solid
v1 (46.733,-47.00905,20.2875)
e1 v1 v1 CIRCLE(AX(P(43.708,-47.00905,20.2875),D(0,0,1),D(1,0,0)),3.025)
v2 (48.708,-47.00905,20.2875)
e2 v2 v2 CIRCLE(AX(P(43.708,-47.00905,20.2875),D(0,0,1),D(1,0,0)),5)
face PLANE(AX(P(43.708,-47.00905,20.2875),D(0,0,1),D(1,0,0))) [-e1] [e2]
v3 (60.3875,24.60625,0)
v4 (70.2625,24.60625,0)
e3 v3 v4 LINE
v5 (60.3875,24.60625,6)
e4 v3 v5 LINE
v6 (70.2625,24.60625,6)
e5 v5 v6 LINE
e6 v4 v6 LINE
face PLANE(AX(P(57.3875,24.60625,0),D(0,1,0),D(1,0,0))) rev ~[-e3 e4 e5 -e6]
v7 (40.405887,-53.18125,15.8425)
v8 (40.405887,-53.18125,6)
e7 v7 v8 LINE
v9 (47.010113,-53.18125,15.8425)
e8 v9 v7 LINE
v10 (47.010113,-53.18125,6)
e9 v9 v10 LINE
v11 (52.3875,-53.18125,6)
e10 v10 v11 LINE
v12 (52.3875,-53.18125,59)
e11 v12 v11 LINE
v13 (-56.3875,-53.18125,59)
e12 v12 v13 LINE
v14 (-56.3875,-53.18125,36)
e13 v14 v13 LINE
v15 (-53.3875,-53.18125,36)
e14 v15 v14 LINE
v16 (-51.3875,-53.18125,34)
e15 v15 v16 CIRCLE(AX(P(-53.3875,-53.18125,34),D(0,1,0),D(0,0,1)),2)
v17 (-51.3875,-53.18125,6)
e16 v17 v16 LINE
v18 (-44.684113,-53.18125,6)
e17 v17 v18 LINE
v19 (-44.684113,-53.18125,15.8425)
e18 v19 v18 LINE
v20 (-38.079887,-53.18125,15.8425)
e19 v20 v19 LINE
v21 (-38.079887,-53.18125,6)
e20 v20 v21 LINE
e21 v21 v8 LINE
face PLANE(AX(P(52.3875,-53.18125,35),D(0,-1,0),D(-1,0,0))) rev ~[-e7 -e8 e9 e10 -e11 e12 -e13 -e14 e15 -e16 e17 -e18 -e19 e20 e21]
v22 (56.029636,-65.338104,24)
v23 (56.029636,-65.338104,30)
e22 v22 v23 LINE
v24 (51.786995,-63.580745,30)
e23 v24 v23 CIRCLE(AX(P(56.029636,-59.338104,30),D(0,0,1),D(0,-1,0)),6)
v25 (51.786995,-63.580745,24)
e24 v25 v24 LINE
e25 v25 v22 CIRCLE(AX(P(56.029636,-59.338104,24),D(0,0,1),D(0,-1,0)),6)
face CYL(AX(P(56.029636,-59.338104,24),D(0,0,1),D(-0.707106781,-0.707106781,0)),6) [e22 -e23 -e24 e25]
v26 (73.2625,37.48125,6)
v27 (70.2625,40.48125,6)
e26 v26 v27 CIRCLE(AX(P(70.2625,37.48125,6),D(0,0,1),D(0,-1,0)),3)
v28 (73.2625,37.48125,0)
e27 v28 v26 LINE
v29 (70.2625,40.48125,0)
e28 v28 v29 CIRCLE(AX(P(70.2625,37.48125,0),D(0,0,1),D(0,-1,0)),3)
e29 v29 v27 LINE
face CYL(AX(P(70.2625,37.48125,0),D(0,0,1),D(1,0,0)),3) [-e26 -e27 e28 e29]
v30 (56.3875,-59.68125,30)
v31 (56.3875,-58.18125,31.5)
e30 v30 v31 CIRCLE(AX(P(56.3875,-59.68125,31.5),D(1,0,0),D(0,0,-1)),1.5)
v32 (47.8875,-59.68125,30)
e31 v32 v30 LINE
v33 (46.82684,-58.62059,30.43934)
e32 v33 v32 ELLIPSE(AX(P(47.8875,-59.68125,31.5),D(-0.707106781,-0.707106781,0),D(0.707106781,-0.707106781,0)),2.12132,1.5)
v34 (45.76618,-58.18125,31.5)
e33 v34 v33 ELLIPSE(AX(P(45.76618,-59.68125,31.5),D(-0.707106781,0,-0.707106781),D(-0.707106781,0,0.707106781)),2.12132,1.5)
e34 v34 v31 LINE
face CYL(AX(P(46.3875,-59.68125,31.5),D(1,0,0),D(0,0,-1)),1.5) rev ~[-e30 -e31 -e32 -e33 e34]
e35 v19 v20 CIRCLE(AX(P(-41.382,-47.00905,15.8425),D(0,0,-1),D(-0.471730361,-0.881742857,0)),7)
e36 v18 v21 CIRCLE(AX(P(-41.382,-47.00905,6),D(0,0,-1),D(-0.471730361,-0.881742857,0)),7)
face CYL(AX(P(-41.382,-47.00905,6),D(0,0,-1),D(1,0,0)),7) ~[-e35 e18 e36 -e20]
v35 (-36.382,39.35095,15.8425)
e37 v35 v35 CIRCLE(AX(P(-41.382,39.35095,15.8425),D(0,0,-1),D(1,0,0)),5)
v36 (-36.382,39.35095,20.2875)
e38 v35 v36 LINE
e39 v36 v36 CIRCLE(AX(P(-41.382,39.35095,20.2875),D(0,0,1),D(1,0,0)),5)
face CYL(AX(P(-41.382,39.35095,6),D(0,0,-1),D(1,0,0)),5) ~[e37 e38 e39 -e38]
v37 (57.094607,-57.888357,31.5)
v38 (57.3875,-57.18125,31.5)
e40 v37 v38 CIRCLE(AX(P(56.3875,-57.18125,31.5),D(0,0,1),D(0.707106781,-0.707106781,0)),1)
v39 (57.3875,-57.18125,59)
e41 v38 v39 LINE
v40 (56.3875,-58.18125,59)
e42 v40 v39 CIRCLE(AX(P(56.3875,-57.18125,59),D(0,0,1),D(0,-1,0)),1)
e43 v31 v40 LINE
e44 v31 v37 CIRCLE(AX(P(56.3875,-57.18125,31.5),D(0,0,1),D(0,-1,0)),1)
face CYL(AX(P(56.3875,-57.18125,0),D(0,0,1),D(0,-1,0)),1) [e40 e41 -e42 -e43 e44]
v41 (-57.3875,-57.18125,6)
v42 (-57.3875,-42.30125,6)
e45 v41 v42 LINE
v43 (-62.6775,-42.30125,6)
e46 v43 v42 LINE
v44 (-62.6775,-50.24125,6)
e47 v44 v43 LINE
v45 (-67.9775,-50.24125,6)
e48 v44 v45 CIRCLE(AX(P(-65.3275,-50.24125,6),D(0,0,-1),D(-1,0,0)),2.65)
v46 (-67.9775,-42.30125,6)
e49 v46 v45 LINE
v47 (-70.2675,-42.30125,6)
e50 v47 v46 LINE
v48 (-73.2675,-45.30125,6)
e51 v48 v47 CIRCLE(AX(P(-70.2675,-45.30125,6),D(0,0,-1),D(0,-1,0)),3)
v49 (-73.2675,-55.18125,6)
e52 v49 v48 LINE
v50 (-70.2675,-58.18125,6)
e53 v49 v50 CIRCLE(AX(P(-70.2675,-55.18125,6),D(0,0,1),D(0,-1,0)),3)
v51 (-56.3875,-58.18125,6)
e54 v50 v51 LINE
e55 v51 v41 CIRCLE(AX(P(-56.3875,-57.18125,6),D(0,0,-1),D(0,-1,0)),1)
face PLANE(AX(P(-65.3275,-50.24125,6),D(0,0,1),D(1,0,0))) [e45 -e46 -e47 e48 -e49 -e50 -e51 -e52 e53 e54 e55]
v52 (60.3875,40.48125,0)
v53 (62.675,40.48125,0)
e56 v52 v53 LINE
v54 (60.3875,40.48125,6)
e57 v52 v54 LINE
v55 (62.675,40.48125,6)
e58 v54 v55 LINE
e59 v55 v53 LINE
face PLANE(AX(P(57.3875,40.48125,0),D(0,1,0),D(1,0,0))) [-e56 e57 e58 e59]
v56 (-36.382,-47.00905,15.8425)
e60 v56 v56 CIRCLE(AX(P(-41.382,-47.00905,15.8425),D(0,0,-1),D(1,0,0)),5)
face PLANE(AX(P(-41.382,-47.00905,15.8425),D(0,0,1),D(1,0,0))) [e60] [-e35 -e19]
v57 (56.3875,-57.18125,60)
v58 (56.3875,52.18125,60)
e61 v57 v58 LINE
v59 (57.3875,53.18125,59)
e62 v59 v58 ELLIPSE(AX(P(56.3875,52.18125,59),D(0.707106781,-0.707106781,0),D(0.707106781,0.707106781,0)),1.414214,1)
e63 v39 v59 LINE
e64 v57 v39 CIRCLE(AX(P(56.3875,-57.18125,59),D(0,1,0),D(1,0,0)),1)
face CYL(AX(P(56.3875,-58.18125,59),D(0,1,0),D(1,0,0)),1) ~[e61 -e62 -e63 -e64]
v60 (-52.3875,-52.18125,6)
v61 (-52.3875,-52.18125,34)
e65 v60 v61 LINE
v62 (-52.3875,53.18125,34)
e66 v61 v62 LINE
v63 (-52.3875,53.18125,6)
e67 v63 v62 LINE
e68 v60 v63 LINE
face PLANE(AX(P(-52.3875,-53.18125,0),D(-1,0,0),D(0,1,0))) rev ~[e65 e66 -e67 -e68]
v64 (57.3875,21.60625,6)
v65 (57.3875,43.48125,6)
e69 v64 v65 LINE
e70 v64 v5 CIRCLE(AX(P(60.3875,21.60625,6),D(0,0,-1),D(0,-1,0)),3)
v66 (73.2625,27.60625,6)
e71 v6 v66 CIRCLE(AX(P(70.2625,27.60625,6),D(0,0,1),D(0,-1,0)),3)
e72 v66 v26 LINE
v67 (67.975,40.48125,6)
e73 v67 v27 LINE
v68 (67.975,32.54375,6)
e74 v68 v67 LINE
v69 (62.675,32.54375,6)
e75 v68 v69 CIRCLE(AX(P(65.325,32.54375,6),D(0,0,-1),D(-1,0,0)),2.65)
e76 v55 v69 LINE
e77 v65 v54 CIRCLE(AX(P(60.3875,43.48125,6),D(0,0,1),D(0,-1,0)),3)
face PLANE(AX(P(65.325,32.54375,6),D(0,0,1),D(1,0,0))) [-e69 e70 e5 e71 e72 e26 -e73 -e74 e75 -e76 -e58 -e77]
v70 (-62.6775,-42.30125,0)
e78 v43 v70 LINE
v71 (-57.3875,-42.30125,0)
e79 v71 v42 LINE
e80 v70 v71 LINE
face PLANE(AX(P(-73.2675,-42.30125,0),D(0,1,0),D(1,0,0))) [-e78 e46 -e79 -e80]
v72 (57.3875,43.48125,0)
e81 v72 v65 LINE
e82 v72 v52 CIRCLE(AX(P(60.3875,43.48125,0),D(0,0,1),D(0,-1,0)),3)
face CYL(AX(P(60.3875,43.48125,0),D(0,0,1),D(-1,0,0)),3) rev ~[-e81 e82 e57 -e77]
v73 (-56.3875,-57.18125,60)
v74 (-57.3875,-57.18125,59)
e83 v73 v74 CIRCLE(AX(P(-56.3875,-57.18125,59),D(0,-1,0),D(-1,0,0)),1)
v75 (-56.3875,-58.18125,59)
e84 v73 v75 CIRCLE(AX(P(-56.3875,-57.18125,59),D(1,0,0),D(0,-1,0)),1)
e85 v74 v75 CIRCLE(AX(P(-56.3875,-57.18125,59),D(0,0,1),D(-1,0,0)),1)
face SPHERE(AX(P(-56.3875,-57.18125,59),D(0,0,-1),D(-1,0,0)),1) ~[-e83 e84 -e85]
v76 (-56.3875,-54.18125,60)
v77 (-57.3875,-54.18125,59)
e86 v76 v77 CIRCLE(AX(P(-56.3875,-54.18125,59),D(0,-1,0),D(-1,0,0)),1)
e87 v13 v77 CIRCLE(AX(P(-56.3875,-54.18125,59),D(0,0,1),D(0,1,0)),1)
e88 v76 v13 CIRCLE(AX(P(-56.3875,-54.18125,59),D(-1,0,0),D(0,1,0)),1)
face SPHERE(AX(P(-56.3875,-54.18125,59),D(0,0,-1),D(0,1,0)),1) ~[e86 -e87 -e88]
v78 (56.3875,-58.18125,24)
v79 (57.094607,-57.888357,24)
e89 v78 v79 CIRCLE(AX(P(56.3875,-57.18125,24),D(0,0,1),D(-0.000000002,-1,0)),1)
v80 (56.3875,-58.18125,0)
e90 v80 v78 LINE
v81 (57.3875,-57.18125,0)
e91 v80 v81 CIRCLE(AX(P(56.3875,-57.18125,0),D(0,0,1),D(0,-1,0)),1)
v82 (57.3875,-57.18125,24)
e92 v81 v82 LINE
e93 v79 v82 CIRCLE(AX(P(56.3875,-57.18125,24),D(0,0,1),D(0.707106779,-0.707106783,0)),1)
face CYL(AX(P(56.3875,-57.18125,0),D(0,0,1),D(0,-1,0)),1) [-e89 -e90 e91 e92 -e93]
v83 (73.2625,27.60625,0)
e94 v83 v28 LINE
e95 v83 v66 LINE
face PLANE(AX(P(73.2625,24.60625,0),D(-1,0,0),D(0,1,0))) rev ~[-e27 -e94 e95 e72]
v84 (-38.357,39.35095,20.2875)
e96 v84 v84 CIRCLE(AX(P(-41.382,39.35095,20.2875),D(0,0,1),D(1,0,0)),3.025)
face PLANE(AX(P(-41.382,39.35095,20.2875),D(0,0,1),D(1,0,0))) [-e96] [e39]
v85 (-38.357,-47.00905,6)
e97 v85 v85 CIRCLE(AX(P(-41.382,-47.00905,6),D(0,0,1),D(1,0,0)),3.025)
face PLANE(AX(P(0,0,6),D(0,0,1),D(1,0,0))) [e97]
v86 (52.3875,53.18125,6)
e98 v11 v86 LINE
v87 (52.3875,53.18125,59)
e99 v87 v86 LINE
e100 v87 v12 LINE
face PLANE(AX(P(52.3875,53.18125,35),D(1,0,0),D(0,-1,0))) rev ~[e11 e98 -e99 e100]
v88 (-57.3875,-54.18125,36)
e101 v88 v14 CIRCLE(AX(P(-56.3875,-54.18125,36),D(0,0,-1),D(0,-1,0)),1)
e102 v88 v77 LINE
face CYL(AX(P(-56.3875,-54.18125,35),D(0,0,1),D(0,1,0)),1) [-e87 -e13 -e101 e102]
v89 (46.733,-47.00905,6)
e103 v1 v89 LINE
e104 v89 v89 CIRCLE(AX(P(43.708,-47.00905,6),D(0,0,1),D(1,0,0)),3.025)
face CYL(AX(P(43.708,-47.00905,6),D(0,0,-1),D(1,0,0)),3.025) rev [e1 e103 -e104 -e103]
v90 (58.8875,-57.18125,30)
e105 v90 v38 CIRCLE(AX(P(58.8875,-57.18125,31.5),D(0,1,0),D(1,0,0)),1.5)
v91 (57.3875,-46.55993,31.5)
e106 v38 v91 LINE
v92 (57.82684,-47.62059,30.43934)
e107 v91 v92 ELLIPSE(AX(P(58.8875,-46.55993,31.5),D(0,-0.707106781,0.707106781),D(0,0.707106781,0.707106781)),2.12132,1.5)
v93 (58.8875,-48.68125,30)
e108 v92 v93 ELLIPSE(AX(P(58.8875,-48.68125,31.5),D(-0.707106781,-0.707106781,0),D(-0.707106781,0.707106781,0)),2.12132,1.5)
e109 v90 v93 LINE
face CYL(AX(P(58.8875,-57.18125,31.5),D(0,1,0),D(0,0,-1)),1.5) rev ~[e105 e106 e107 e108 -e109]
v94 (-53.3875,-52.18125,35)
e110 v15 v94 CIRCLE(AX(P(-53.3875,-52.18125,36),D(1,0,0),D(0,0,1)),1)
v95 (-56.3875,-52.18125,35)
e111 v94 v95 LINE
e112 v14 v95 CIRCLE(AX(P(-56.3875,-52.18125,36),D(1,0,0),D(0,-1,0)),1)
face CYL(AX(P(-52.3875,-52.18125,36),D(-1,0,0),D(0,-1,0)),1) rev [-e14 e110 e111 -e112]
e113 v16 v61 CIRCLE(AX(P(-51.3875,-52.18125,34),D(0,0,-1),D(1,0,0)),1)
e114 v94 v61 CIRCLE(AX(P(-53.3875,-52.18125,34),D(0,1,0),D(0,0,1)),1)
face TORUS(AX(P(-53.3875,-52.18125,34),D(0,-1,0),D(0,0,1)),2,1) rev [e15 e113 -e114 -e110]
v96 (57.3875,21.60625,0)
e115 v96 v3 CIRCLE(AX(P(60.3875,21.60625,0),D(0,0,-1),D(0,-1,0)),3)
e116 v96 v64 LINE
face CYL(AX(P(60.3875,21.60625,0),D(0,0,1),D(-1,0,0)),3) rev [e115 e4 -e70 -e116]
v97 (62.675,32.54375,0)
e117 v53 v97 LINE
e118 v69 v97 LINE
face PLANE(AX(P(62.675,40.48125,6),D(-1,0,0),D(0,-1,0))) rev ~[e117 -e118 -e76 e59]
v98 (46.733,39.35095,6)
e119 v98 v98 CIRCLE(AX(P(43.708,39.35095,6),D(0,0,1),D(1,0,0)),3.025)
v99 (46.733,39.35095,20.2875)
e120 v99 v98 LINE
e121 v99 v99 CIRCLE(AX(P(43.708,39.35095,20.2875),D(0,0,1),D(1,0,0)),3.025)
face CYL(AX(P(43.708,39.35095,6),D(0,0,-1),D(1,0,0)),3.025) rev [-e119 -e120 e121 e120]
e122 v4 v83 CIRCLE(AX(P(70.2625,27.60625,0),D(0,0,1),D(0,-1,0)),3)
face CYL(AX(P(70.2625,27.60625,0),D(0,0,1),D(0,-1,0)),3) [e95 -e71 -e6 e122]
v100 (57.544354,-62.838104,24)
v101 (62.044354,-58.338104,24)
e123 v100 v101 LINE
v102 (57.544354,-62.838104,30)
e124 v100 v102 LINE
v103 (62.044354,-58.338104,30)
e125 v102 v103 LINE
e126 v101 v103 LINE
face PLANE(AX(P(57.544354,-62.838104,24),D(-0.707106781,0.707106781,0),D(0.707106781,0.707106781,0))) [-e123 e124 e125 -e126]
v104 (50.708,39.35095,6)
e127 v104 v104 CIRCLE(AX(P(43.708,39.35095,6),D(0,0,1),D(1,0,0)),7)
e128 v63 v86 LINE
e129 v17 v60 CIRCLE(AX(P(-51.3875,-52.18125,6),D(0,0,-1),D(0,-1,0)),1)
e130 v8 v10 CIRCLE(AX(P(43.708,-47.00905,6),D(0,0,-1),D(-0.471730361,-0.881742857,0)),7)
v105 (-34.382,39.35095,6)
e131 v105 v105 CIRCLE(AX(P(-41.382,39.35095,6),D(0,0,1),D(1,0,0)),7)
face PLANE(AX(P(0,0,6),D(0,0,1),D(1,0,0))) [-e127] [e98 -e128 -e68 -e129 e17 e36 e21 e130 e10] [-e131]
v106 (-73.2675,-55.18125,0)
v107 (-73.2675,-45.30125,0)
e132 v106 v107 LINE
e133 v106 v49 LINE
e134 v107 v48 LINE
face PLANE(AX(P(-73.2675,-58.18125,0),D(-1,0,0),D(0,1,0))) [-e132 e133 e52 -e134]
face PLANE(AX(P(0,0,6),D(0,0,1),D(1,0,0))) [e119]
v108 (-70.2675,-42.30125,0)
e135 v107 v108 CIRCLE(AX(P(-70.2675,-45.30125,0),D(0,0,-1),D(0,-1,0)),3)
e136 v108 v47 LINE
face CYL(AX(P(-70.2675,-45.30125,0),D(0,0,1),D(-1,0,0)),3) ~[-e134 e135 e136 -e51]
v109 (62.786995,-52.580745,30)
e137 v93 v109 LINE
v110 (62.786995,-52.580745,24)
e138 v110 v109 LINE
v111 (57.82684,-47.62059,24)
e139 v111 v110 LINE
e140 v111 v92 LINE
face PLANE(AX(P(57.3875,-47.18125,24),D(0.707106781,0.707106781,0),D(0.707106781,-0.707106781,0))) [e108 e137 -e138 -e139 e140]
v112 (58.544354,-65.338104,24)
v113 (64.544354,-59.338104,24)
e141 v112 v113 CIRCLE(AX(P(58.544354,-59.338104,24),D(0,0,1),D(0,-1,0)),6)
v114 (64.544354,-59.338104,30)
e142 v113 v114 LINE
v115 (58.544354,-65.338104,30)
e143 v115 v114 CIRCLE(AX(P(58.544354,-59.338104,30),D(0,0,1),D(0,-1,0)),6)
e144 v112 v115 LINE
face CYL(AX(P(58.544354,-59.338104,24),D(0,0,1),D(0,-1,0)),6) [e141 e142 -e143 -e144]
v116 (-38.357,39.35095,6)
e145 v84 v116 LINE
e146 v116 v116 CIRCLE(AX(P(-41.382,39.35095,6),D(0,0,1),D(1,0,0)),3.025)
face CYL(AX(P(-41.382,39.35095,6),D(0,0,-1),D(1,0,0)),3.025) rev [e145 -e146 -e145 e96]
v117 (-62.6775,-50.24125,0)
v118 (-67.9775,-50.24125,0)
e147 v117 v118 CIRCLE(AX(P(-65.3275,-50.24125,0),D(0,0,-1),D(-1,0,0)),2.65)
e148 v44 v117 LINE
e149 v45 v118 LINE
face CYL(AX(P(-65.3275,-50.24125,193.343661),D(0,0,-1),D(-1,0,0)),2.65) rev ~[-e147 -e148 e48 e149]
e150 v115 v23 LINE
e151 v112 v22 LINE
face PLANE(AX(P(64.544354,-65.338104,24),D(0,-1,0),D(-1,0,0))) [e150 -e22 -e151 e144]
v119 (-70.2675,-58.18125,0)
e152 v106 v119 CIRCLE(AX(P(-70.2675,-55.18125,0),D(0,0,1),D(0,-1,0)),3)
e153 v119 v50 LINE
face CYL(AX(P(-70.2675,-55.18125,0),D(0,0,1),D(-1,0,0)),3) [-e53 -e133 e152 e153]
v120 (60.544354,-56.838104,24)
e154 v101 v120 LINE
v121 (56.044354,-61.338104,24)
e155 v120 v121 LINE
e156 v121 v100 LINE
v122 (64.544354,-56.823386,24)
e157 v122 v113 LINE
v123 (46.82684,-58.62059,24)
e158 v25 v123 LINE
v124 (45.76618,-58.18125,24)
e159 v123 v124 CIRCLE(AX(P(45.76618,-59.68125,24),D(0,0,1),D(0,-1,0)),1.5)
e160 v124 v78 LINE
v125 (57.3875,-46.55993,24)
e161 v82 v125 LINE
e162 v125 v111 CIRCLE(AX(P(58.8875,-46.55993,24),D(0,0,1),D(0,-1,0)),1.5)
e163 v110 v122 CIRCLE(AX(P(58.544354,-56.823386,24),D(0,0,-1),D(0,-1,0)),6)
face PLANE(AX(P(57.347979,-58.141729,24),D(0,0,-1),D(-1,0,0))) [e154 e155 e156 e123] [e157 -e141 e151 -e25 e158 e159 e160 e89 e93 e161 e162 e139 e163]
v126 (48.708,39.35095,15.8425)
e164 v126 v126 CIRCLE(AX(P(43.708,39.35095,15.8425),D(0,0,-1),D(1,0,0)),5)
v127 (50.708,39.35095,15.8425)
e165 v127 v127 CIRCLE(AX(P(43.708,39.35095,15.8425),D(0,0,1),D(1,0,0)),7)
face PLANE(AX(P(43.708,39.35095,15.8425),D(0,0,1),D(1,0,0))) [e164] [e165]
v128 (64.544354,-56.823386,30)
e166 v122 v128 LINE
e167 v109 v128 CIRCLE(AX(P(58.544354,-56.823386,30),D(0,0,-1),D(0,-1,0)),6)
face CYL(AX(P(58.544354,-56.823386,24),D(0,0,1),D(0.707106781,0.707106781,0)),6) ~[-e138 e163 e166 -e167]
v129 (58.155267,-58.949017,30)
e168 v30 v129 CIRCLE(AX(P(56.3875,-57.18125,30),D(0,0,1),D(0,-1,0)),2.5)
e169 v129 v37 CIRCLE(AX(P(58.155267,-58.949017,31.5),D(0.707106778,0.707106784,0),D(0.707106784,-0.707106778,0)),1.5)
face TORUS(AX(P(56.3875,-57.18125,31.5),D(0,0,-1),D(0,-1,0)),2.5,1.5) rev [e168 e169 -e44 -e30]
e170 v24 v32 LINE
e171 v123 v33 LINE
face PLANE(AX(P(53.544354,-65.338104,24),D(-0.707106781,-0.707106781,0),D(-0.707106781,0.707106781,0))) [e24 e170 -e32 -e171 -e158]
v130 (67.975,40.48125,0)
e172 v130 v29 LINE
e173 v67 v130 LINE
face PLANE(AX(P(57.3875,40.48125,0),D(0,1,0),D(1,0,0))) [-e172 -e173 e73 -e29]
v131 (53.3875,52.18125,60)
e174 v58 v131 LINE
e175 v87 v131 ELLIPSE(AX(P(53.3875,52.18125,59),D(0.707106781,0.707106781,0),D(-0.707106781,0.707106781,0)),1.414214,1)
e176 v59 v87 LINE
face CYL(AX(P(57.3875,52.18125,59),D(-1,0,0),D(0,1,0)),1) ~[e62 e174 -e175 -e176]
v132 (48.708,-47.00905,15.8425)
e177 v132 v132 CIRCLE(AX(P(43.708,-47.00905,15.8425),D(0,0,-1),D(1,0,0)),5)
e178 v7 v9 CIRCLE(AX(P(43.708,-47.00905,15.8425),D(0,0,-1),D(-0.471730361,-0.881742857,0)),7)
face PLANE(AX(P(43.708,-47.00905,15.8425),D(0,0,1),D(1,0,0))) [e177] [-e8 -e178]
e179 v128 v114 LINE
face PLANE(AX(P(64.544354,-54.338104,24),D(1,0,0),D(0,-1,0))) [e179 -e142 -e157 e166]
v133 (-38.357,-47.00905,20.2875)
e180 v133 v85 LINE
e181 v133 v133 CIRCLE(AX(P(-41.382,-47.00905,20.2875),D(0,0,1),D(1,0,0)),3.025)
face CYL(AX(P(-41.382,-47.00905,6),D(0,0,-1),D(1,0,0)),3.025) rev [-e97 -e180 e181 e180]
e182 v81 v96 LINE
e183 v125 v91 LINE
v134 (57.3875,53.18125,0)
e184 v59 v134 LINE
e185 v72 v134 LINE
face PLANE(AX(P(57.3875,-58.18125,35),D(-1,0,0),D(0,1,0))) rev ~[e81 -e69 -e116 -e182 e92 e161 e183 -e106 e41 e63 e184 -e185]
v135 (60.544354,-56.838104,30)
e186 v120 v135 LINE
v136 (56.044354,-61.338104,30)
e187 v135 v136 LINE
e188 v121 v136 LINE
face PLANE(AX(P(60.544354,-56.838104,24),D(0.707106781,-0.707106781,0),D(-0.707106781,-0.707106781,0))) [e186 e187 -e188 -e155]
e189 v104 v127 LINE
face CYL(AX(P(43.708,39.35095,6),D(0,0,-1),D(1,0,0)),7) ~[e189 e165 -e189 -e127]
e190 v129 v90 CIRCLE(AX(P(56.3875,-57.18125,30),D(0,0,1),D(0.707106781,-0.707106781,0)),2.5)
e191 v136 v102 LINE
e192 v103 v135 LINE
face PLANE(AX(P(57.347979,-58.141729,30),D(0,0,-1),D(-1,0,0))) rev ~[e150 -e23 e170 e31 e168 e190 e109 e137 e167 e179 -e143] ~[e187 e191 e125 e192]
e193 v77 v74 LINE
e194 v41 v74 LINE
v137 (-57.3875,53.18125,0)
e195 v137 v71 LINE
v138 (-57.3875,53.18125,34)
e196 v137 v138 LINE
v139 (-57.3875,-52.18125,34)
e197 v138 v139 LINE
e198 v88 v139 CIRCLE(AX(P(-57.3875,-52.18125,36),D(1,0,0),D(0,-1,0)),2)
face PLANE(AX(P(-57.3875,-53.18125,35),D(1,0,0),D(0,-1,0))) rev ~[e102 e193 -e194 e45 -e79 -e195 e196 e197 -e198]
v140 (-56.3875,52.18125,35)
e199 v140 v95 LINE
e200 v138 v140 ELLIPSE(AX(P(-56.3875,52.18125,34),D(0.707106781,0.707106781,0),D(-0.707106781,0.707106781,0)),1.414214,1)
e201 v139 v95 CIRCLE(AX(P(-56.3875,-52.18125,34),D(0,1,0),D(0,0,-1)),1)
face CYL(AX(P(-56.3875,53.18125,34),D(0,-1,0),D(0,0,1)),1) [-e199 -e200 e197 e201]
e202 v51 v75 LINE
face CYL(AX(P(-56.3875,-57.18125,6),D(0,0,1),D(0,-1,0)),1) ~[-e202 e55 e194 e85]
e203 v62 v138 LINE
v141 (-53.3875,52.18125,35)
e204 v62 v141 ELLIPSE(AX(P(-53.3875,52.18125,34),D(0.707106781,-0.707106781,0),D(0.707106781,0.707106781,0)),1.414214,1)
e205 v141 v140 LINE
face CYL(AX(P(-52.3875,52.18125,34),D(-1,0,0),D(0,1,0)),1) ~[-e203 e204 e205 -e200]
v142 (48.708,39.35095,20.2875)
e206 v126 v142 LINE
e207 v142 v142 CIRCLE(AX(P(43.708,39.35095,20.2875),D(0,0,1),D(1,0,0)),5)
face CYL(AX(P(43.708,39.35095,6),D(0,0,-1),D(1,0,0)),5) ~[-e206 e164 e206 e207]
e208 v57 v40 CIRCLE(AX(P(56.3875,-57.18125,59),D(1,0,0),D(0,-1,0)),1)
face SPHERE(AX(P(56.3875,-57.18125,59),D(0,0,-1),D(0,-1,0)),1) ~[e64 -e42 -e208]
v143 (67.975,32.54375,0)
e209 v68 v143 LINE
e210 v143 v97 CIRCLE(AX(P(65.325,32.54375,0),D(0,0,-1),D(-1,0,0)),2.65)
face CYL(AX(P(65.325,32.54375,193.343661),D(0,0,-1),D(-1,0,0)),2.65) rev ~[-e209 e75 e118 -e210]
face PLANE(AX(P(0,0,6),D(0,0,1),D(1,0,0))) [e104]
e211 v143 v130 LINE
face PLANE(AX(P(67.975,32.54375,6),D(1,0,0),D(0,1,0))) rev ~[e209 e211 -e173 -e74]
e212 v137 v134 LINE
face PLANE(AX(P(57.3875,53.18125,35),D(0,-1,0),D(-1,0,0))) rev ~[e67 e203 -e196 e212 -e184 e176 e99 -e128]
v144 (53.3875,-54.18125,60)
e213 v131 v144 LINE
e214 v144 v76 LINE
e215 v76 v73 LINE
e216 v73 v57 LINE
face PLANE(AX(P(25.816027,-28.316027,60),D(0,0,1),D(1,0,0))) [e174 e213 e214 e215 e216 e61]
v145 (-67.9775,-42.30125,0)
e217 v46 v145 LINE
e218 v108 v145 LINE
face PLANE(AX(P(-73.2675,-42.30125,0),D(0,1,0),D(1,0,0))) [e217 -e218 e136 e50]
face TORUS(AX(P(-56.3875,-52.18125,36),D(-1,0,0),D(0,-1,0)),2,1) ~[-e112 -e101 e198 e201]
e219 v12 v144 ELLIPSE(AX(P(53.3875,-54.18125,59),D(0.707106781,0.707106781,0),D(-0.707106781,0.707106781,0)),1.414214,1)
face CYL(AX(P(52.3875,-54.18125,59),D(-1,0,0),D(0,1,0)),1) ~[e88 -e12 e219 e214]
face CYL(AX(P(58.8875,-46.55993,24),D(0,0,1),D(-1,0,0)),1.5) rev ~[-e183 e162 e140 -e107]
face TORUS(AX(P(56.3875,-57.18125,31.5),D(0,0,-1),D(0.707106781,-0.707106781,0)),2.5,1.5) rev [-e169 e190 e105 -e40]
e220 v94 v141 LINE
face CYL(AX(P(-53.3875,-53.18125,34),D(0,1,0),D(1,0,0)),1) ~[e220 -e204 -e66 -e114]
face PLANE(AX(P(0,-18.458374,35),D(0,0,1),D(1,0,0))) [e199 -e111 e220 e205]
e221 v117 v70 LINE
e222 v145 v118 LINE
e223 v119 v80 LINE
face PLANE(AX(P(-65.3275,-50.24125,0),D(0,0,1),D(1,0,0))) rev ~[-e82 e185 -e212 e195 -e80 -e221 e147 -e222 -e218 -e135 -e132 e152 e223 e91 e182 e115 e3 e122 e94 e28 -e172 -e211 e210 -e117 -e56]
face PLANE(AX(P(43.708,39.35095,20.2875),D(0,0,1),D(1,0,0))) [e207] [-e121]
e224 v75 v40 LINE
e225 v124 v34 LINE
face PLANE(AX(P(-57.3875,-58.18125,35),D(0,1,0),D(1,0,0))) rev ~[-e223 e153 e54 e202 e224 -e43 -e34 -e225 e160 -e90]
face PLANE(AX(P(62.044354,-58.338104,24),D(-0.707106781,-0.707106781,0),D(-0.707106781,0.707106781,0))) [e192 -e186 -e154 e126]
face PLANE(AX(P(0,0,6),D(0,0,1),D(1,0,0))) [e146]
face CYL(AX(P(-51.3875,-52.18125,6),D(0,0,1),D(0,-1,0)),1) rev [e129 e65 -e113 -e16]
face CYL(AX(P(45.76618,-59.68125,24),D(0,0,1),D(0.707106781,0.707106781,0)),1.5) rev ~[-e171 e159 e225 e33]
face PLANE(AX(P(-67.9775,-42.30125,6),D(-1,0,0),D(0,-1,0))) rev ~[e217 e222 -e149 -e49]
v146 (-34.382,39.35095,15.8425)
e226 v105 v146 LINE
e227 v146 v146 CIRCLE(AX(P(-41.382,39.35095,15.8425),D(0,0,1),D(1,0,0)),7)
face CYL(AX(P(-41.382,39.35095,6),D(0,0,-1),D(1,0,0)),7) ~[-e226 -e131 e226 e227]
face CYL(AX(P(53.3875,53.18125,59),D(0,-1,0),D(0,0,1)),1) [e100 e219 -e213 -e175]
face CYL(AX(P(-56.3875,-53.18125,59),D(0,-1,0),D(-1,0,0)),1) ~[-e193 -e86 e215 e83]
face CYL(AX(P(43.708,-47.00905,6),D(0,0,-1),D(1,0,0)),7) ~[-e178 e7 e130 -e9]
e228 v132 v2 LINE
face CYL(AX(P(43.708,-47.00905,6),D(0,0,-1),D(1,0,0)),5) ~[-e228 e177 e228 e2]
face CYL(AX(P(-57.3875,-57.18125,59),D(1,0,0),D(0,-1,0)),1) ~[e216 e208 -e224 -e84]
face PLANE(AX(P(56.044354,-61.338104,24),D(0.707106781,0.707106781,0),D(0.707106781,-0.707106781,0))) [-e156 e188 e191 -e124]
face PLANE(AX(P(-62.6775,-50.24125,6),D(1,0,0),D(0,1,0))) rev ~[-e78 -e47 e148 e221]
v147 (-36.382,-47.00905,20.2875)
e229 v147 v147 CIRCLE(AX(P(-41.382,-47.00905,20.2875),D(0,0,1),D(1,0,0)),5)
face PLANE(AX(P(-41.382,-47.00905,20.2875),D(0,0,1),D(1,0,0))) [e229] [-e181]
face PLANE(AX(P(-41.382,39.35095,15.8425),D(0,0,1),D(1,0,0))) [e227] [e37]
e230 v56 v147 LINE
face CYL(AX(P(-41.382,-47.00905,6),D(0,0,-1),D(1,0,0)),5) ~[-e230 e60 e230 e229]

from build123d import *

# Parameters (mm, degrees)
SKETCH1_W            = 104.775
SKETCH1_H            = 106.3625
BOSS_EXTRUDE1_DEPTH  = 6
BOSS_EXTRUDE2_DEPTH  = 35
SKETCH3_R            = 5
SKETCH3_R_2          = 3.025
BOSS_EXTRUDE3_DEPTH  = 14.2875
SKETCH4_R            = 7
SKETCH4_R_2          = 3.025
BOSS_EXTRUDE4_DEPTH  = 9.8425
SKETCH6_W            = 15.875
SKETCH6_H            = 15.875
SKETCH6_W_2          = 15.88
SKETCH6_H_2          = 15.88
BOSS_EXTRUDE5_DEPTH  = 6
M5_CLEARANCE_HOLE2_D = 5.3
FILLET2_R            = 3
BOSS_EXTRUDE6_DEPTH  = 25
FILLET3_R            = 1
BOSS_EXTRUDE7_START  = 6
BOSS_EXTRUDE7_DEPTH  = 6
FILLET4_R            = 6
FILLET5_R            = 1.5
CUT_EXTRUDE1_DEPTH   = 113.041039013


with BuildPart() as part:
    # Sketch1 → Boss-Extrude1 (new body)
    with BuildSketch(Plane.XY):
        Rectangle(SKETCH1_W, SKETCH1_H)
    extrude(amount=BOSS_EXTRUDE1_DEPTH)

    # Sketch2 → Boss-Extrude2 (add)
    with BuildSketch(Plane.XY):
        Polygon((-57.3875, -53.18125), (-57.3875, -58.18125), (-52.3875, -58.18125), (57.3875, -58.18125), (57.3875, 53.18125), (52.3875, 53.18125), (52.3875, -53.18125), (-52.3875, -53.18125), (-52.3875, 53.18125), (-57.3875, 53.18125), align=None)
    extrude(amount=BOSS_EXTRUDE2_DEPTH)

    # Sketch3 → Boss-Extrude3 (add)
    # profile 1 of 4: a face of its own
    with BuildSketch(Plane.XY.offset(6)):
        with Locations((43.708, 39.35095)):
            Circle(SKETCH3_R)
        with Locations((43.708, 39.35095)):
            Circle(SKETCH3_R_2, mode=Mode.SUBTRACT)
    # profile 2 of 4: a face of its own
    with BuildSketch(Plane.XY.offset(6)):
        with Locations((-41.382, 39.35095)):
            Circle(SKETCH3_R)
        with Locations((-41.382, 39.35095)):
            Circle(SKETCH3_R_2, mode=Mode.SUBTRACT)
    # profile 3 of 4: a face of its own
    with BuildSketch(Plane.XY.offset(6)):
        with Locations((-41.382, -47.00905)):
            Circle(SKETCH3_R)
        with Locations((-41.382, -47.00905)):
            Circle(SKETCH3_R_2, mode=Mode.SUBTRACT)
    # profile 4 of 4: a face of its own
    with BuildSketch(Plane.XY.offset(6)):
        with Locations((43.708, -47.00905)):
            Circle(SKETCH3_R)
        with Locations((43.708, -47.00905)):
            Circle(SKETCH3_R_2, mode=Mode.SUBTRACT)
    extrude(amount=BOSS_EXTRUDE3_DEPTH)

    # Sketch4 → Boss-Extrude4 (add)
    # profile 1 of 4: a face of its own
    with BuildSketch(Plane.XY.offset(6)):
        with Locations((43.708, 39.35095)):
            Circle(SKETCH4_R)
        with Locations((43.708, 39.35095)):
            Circle(SKETCH4_R_2, mode=Mode.SUBTRACT)
    # profile 2 of 4: a face of its own
    with BuildSketch(Plane.XY.offset(6)):
        with Locations((-41.382, 39.35095)):
            Circle(SKETCH4_R)
        with Locations((-41.382, 39.35095)):
            Circle(SKETCH4_R_2, mode=Mode.SUBTRACT)
    # profile 3 of 4: a face of its own
    with BuildSketch(Plane.XY.offset(6)):
        with Locations((-41.382, -47.00905)):
            Circle(SKETCH4_R)
        with Locations((-41.382, -47.00905)):
            Circle(SKETCH4_R_2, mode=Mode.SUBTRACT)
    # profile 4 of 4: a face of its own
    with BuildSketch(Plane.XY.offset(6)):
        with Locations((43.708, -47.00905)):
            Circle(SKETCH4_R)
        with Locations((43.708, -47.00905)):
            Circle(SKETCH4_R_2, mode=Mode.SUBTRACT)
    extrude(amount=BOSS_EXTRUDE4_DEPTH)

    # Sketch6 → Boss-Extrude5 (add)
    with BuildSketch(Plane.XY):
        with Locations((65.325, 32.54375)):
            Rectangle(SKETCH6_W, SKETCH6_H)
        with Locations((-65.3275, -50.24125)):
            Rectangle(SKETCH6_W_2, SKETCH6_H_2)
    extrude(amount=BOSS_EXTRUDE5_DEPTH)

    # M5 Clearance Hole2 (through all)
    with Locations(Plane.XY.offset(6)):
        with Locations((65.325, 32.54375), (-65.3275, -50.24125)):
            Hole(M5_CLEARANCE_HOLE2_D / 2)

    # Fillet2
    fillet2_edges = [part.edges().sort_by_distance(p)[0] for p in [
        (-73.2675, -42.30125, 3),
        (-73.2675, -58.18125, 3),
        (73.2625, 24.60625, 3),
        (73.2625, 40.48125, 3),
        (57.3875, 40.48125, 3),
        (57.3875, 24.60625, 3),
    ]]
    fillet(fillet2_edges, radius=FILLET2_R)

    # Sketch9 → Boss-Extrude6 (add)
    with BuildSketch(Plane.XY.offset(35)):
        Polygon((52.3875, -53.18125), (-52.3875, -53.18125), (-57.3875, -53.18125), (-57.3875, -58.18125), (57.3875, -58.18125), (57.3875, 53.18125), (52.3875, 53.18125), align=None)
    extrude(amount=BOSS_EXTRUDE6_DEPTH)

    # Fillet3
    fillet3_edges = [part.edges().sort_by_distance(p)[0] for p in [
        (-52.3875, -53.18125, 20.5),
        (-57.3875, -58.18125, 33),
        (57.3875, -58.18125, 30),
        (-52.3875, 0, 35),
        (-54.8875, 53.18125, 35),
        (-57.3875, 0, 35),
        (-54.8875, -53.18125, 35),
        (-57.3875, -53.18125, 47.5),
        (-2.5, -53.18125, 60),
        (-57.3875, -55.68125, 60),
        (0, -58.18125, 60),
        (57.3875, -2.5, 60),
        (54.8875, 53.18125, 60),
        (52.3875, 0, 60),
    ]]
    fillet(fillet3_edges, radius=FILLET3_R)

    # Sketch10 → Boss-Extrude7 (add)
    with BuildSketch(Plane(origin=(0, 0, 30), x_dir=(-1, 0, 0), z_dir=(0, 0, -1)).offset(BOSS_EXTRUDE7_START)):
        with BuildLine():
            ThreePointArc((-56.3875, -58.18125), (-56.770183432, -58.105129533), (-57.094606781, -57.888356781))
            ThreePointArc((-57.094606781, -57.888356781), (-57.311379533, -57.563933432), (-57.3875, -57.18125))
            Line((-57.3875, -57.18125), (-57.3875, -47.18125))
            Line((-57.3875, -47.18125), (-64.544354249, -54.338104249))
            Line((-64.544354249, -54.338104249), (-64.544354249, -65.338104249))
            Line((-64.544354249, -65.338104249), (-53.544354249, -65.338104249))
            Line((-53.544354249, -65.338104249), (-46.3875, -58.18125))
            Line((-46.3875, -58.18125), (-56.3875, -58.18125))
        make_face()
        Polygon((-60.544354249, -56.838104249), (-56.044354249, -61.338104249), (-57.544354249, -62.838104249), (-62.044354249, -58.338104249), align=None, mode=Mode.SUBTRACT)
    extrude(amount=-BOSS_EXTRUDE7_DEPTH)

    # Fillet4
    fillet4_edges = [part.edges().sort_by_distance(p)[0] for p in [
        (64.544354249, -54.338104249, 27),
        (64.544354249, -65.338104249, 27),
        (53.544354249, -65.338104249, 27),
    ]]
    fillet(fillet4_edges, radius=FILLET4_R)

    # Fillet5
    fillet5_edges = [part.edges().sort_by_distance(p)[0] for p in [
        (57.3875, -52.18125, 30),
        (57.3875, -47.18125, 27),
        (51.3875, -58.18125, 30),
        (46.3875, -58.18125, 27),
        (57.094606781, -57.888356781, 30),
    ]]
    fillet(fillet5_edges, radius=FILLET5_R)

    # Sketch11 → Cut-Extrude1 (cut, through all)
    with BuildSketch(Plane.XY.offset(6)):
        with BuildLine():
            Line((-67.9775, -42.30125), (-67.9775, -50.24125))
            ThreePointArc((-67.9775, -50.24125), (-65.3275, -47.59125), (-62.6775, -50.24125))
            Line((-62.6775, -50.24125), (-62.6775, -42.30125))
            Line((-62.6775, -42.30125), (-67.9775, -42.30125))
        make_face()
        with BuildLine():
            Line((62.675, 40.48125), (62.675, 32.54375))
            ThreePointArc((62.675, 32.54375), (65.325, 35.19375), (67.975, 32.54375))
            Line((67.975, 32.54375), (67.975, 40.48125))
            Line((67.975, 40.48125), (62.675, 40.48125))
        make_face()
    extrude(amount=-CUT_EXTRUDE1_DEPTH, mode=Mode.SUBTRACT)


solid = part.part
